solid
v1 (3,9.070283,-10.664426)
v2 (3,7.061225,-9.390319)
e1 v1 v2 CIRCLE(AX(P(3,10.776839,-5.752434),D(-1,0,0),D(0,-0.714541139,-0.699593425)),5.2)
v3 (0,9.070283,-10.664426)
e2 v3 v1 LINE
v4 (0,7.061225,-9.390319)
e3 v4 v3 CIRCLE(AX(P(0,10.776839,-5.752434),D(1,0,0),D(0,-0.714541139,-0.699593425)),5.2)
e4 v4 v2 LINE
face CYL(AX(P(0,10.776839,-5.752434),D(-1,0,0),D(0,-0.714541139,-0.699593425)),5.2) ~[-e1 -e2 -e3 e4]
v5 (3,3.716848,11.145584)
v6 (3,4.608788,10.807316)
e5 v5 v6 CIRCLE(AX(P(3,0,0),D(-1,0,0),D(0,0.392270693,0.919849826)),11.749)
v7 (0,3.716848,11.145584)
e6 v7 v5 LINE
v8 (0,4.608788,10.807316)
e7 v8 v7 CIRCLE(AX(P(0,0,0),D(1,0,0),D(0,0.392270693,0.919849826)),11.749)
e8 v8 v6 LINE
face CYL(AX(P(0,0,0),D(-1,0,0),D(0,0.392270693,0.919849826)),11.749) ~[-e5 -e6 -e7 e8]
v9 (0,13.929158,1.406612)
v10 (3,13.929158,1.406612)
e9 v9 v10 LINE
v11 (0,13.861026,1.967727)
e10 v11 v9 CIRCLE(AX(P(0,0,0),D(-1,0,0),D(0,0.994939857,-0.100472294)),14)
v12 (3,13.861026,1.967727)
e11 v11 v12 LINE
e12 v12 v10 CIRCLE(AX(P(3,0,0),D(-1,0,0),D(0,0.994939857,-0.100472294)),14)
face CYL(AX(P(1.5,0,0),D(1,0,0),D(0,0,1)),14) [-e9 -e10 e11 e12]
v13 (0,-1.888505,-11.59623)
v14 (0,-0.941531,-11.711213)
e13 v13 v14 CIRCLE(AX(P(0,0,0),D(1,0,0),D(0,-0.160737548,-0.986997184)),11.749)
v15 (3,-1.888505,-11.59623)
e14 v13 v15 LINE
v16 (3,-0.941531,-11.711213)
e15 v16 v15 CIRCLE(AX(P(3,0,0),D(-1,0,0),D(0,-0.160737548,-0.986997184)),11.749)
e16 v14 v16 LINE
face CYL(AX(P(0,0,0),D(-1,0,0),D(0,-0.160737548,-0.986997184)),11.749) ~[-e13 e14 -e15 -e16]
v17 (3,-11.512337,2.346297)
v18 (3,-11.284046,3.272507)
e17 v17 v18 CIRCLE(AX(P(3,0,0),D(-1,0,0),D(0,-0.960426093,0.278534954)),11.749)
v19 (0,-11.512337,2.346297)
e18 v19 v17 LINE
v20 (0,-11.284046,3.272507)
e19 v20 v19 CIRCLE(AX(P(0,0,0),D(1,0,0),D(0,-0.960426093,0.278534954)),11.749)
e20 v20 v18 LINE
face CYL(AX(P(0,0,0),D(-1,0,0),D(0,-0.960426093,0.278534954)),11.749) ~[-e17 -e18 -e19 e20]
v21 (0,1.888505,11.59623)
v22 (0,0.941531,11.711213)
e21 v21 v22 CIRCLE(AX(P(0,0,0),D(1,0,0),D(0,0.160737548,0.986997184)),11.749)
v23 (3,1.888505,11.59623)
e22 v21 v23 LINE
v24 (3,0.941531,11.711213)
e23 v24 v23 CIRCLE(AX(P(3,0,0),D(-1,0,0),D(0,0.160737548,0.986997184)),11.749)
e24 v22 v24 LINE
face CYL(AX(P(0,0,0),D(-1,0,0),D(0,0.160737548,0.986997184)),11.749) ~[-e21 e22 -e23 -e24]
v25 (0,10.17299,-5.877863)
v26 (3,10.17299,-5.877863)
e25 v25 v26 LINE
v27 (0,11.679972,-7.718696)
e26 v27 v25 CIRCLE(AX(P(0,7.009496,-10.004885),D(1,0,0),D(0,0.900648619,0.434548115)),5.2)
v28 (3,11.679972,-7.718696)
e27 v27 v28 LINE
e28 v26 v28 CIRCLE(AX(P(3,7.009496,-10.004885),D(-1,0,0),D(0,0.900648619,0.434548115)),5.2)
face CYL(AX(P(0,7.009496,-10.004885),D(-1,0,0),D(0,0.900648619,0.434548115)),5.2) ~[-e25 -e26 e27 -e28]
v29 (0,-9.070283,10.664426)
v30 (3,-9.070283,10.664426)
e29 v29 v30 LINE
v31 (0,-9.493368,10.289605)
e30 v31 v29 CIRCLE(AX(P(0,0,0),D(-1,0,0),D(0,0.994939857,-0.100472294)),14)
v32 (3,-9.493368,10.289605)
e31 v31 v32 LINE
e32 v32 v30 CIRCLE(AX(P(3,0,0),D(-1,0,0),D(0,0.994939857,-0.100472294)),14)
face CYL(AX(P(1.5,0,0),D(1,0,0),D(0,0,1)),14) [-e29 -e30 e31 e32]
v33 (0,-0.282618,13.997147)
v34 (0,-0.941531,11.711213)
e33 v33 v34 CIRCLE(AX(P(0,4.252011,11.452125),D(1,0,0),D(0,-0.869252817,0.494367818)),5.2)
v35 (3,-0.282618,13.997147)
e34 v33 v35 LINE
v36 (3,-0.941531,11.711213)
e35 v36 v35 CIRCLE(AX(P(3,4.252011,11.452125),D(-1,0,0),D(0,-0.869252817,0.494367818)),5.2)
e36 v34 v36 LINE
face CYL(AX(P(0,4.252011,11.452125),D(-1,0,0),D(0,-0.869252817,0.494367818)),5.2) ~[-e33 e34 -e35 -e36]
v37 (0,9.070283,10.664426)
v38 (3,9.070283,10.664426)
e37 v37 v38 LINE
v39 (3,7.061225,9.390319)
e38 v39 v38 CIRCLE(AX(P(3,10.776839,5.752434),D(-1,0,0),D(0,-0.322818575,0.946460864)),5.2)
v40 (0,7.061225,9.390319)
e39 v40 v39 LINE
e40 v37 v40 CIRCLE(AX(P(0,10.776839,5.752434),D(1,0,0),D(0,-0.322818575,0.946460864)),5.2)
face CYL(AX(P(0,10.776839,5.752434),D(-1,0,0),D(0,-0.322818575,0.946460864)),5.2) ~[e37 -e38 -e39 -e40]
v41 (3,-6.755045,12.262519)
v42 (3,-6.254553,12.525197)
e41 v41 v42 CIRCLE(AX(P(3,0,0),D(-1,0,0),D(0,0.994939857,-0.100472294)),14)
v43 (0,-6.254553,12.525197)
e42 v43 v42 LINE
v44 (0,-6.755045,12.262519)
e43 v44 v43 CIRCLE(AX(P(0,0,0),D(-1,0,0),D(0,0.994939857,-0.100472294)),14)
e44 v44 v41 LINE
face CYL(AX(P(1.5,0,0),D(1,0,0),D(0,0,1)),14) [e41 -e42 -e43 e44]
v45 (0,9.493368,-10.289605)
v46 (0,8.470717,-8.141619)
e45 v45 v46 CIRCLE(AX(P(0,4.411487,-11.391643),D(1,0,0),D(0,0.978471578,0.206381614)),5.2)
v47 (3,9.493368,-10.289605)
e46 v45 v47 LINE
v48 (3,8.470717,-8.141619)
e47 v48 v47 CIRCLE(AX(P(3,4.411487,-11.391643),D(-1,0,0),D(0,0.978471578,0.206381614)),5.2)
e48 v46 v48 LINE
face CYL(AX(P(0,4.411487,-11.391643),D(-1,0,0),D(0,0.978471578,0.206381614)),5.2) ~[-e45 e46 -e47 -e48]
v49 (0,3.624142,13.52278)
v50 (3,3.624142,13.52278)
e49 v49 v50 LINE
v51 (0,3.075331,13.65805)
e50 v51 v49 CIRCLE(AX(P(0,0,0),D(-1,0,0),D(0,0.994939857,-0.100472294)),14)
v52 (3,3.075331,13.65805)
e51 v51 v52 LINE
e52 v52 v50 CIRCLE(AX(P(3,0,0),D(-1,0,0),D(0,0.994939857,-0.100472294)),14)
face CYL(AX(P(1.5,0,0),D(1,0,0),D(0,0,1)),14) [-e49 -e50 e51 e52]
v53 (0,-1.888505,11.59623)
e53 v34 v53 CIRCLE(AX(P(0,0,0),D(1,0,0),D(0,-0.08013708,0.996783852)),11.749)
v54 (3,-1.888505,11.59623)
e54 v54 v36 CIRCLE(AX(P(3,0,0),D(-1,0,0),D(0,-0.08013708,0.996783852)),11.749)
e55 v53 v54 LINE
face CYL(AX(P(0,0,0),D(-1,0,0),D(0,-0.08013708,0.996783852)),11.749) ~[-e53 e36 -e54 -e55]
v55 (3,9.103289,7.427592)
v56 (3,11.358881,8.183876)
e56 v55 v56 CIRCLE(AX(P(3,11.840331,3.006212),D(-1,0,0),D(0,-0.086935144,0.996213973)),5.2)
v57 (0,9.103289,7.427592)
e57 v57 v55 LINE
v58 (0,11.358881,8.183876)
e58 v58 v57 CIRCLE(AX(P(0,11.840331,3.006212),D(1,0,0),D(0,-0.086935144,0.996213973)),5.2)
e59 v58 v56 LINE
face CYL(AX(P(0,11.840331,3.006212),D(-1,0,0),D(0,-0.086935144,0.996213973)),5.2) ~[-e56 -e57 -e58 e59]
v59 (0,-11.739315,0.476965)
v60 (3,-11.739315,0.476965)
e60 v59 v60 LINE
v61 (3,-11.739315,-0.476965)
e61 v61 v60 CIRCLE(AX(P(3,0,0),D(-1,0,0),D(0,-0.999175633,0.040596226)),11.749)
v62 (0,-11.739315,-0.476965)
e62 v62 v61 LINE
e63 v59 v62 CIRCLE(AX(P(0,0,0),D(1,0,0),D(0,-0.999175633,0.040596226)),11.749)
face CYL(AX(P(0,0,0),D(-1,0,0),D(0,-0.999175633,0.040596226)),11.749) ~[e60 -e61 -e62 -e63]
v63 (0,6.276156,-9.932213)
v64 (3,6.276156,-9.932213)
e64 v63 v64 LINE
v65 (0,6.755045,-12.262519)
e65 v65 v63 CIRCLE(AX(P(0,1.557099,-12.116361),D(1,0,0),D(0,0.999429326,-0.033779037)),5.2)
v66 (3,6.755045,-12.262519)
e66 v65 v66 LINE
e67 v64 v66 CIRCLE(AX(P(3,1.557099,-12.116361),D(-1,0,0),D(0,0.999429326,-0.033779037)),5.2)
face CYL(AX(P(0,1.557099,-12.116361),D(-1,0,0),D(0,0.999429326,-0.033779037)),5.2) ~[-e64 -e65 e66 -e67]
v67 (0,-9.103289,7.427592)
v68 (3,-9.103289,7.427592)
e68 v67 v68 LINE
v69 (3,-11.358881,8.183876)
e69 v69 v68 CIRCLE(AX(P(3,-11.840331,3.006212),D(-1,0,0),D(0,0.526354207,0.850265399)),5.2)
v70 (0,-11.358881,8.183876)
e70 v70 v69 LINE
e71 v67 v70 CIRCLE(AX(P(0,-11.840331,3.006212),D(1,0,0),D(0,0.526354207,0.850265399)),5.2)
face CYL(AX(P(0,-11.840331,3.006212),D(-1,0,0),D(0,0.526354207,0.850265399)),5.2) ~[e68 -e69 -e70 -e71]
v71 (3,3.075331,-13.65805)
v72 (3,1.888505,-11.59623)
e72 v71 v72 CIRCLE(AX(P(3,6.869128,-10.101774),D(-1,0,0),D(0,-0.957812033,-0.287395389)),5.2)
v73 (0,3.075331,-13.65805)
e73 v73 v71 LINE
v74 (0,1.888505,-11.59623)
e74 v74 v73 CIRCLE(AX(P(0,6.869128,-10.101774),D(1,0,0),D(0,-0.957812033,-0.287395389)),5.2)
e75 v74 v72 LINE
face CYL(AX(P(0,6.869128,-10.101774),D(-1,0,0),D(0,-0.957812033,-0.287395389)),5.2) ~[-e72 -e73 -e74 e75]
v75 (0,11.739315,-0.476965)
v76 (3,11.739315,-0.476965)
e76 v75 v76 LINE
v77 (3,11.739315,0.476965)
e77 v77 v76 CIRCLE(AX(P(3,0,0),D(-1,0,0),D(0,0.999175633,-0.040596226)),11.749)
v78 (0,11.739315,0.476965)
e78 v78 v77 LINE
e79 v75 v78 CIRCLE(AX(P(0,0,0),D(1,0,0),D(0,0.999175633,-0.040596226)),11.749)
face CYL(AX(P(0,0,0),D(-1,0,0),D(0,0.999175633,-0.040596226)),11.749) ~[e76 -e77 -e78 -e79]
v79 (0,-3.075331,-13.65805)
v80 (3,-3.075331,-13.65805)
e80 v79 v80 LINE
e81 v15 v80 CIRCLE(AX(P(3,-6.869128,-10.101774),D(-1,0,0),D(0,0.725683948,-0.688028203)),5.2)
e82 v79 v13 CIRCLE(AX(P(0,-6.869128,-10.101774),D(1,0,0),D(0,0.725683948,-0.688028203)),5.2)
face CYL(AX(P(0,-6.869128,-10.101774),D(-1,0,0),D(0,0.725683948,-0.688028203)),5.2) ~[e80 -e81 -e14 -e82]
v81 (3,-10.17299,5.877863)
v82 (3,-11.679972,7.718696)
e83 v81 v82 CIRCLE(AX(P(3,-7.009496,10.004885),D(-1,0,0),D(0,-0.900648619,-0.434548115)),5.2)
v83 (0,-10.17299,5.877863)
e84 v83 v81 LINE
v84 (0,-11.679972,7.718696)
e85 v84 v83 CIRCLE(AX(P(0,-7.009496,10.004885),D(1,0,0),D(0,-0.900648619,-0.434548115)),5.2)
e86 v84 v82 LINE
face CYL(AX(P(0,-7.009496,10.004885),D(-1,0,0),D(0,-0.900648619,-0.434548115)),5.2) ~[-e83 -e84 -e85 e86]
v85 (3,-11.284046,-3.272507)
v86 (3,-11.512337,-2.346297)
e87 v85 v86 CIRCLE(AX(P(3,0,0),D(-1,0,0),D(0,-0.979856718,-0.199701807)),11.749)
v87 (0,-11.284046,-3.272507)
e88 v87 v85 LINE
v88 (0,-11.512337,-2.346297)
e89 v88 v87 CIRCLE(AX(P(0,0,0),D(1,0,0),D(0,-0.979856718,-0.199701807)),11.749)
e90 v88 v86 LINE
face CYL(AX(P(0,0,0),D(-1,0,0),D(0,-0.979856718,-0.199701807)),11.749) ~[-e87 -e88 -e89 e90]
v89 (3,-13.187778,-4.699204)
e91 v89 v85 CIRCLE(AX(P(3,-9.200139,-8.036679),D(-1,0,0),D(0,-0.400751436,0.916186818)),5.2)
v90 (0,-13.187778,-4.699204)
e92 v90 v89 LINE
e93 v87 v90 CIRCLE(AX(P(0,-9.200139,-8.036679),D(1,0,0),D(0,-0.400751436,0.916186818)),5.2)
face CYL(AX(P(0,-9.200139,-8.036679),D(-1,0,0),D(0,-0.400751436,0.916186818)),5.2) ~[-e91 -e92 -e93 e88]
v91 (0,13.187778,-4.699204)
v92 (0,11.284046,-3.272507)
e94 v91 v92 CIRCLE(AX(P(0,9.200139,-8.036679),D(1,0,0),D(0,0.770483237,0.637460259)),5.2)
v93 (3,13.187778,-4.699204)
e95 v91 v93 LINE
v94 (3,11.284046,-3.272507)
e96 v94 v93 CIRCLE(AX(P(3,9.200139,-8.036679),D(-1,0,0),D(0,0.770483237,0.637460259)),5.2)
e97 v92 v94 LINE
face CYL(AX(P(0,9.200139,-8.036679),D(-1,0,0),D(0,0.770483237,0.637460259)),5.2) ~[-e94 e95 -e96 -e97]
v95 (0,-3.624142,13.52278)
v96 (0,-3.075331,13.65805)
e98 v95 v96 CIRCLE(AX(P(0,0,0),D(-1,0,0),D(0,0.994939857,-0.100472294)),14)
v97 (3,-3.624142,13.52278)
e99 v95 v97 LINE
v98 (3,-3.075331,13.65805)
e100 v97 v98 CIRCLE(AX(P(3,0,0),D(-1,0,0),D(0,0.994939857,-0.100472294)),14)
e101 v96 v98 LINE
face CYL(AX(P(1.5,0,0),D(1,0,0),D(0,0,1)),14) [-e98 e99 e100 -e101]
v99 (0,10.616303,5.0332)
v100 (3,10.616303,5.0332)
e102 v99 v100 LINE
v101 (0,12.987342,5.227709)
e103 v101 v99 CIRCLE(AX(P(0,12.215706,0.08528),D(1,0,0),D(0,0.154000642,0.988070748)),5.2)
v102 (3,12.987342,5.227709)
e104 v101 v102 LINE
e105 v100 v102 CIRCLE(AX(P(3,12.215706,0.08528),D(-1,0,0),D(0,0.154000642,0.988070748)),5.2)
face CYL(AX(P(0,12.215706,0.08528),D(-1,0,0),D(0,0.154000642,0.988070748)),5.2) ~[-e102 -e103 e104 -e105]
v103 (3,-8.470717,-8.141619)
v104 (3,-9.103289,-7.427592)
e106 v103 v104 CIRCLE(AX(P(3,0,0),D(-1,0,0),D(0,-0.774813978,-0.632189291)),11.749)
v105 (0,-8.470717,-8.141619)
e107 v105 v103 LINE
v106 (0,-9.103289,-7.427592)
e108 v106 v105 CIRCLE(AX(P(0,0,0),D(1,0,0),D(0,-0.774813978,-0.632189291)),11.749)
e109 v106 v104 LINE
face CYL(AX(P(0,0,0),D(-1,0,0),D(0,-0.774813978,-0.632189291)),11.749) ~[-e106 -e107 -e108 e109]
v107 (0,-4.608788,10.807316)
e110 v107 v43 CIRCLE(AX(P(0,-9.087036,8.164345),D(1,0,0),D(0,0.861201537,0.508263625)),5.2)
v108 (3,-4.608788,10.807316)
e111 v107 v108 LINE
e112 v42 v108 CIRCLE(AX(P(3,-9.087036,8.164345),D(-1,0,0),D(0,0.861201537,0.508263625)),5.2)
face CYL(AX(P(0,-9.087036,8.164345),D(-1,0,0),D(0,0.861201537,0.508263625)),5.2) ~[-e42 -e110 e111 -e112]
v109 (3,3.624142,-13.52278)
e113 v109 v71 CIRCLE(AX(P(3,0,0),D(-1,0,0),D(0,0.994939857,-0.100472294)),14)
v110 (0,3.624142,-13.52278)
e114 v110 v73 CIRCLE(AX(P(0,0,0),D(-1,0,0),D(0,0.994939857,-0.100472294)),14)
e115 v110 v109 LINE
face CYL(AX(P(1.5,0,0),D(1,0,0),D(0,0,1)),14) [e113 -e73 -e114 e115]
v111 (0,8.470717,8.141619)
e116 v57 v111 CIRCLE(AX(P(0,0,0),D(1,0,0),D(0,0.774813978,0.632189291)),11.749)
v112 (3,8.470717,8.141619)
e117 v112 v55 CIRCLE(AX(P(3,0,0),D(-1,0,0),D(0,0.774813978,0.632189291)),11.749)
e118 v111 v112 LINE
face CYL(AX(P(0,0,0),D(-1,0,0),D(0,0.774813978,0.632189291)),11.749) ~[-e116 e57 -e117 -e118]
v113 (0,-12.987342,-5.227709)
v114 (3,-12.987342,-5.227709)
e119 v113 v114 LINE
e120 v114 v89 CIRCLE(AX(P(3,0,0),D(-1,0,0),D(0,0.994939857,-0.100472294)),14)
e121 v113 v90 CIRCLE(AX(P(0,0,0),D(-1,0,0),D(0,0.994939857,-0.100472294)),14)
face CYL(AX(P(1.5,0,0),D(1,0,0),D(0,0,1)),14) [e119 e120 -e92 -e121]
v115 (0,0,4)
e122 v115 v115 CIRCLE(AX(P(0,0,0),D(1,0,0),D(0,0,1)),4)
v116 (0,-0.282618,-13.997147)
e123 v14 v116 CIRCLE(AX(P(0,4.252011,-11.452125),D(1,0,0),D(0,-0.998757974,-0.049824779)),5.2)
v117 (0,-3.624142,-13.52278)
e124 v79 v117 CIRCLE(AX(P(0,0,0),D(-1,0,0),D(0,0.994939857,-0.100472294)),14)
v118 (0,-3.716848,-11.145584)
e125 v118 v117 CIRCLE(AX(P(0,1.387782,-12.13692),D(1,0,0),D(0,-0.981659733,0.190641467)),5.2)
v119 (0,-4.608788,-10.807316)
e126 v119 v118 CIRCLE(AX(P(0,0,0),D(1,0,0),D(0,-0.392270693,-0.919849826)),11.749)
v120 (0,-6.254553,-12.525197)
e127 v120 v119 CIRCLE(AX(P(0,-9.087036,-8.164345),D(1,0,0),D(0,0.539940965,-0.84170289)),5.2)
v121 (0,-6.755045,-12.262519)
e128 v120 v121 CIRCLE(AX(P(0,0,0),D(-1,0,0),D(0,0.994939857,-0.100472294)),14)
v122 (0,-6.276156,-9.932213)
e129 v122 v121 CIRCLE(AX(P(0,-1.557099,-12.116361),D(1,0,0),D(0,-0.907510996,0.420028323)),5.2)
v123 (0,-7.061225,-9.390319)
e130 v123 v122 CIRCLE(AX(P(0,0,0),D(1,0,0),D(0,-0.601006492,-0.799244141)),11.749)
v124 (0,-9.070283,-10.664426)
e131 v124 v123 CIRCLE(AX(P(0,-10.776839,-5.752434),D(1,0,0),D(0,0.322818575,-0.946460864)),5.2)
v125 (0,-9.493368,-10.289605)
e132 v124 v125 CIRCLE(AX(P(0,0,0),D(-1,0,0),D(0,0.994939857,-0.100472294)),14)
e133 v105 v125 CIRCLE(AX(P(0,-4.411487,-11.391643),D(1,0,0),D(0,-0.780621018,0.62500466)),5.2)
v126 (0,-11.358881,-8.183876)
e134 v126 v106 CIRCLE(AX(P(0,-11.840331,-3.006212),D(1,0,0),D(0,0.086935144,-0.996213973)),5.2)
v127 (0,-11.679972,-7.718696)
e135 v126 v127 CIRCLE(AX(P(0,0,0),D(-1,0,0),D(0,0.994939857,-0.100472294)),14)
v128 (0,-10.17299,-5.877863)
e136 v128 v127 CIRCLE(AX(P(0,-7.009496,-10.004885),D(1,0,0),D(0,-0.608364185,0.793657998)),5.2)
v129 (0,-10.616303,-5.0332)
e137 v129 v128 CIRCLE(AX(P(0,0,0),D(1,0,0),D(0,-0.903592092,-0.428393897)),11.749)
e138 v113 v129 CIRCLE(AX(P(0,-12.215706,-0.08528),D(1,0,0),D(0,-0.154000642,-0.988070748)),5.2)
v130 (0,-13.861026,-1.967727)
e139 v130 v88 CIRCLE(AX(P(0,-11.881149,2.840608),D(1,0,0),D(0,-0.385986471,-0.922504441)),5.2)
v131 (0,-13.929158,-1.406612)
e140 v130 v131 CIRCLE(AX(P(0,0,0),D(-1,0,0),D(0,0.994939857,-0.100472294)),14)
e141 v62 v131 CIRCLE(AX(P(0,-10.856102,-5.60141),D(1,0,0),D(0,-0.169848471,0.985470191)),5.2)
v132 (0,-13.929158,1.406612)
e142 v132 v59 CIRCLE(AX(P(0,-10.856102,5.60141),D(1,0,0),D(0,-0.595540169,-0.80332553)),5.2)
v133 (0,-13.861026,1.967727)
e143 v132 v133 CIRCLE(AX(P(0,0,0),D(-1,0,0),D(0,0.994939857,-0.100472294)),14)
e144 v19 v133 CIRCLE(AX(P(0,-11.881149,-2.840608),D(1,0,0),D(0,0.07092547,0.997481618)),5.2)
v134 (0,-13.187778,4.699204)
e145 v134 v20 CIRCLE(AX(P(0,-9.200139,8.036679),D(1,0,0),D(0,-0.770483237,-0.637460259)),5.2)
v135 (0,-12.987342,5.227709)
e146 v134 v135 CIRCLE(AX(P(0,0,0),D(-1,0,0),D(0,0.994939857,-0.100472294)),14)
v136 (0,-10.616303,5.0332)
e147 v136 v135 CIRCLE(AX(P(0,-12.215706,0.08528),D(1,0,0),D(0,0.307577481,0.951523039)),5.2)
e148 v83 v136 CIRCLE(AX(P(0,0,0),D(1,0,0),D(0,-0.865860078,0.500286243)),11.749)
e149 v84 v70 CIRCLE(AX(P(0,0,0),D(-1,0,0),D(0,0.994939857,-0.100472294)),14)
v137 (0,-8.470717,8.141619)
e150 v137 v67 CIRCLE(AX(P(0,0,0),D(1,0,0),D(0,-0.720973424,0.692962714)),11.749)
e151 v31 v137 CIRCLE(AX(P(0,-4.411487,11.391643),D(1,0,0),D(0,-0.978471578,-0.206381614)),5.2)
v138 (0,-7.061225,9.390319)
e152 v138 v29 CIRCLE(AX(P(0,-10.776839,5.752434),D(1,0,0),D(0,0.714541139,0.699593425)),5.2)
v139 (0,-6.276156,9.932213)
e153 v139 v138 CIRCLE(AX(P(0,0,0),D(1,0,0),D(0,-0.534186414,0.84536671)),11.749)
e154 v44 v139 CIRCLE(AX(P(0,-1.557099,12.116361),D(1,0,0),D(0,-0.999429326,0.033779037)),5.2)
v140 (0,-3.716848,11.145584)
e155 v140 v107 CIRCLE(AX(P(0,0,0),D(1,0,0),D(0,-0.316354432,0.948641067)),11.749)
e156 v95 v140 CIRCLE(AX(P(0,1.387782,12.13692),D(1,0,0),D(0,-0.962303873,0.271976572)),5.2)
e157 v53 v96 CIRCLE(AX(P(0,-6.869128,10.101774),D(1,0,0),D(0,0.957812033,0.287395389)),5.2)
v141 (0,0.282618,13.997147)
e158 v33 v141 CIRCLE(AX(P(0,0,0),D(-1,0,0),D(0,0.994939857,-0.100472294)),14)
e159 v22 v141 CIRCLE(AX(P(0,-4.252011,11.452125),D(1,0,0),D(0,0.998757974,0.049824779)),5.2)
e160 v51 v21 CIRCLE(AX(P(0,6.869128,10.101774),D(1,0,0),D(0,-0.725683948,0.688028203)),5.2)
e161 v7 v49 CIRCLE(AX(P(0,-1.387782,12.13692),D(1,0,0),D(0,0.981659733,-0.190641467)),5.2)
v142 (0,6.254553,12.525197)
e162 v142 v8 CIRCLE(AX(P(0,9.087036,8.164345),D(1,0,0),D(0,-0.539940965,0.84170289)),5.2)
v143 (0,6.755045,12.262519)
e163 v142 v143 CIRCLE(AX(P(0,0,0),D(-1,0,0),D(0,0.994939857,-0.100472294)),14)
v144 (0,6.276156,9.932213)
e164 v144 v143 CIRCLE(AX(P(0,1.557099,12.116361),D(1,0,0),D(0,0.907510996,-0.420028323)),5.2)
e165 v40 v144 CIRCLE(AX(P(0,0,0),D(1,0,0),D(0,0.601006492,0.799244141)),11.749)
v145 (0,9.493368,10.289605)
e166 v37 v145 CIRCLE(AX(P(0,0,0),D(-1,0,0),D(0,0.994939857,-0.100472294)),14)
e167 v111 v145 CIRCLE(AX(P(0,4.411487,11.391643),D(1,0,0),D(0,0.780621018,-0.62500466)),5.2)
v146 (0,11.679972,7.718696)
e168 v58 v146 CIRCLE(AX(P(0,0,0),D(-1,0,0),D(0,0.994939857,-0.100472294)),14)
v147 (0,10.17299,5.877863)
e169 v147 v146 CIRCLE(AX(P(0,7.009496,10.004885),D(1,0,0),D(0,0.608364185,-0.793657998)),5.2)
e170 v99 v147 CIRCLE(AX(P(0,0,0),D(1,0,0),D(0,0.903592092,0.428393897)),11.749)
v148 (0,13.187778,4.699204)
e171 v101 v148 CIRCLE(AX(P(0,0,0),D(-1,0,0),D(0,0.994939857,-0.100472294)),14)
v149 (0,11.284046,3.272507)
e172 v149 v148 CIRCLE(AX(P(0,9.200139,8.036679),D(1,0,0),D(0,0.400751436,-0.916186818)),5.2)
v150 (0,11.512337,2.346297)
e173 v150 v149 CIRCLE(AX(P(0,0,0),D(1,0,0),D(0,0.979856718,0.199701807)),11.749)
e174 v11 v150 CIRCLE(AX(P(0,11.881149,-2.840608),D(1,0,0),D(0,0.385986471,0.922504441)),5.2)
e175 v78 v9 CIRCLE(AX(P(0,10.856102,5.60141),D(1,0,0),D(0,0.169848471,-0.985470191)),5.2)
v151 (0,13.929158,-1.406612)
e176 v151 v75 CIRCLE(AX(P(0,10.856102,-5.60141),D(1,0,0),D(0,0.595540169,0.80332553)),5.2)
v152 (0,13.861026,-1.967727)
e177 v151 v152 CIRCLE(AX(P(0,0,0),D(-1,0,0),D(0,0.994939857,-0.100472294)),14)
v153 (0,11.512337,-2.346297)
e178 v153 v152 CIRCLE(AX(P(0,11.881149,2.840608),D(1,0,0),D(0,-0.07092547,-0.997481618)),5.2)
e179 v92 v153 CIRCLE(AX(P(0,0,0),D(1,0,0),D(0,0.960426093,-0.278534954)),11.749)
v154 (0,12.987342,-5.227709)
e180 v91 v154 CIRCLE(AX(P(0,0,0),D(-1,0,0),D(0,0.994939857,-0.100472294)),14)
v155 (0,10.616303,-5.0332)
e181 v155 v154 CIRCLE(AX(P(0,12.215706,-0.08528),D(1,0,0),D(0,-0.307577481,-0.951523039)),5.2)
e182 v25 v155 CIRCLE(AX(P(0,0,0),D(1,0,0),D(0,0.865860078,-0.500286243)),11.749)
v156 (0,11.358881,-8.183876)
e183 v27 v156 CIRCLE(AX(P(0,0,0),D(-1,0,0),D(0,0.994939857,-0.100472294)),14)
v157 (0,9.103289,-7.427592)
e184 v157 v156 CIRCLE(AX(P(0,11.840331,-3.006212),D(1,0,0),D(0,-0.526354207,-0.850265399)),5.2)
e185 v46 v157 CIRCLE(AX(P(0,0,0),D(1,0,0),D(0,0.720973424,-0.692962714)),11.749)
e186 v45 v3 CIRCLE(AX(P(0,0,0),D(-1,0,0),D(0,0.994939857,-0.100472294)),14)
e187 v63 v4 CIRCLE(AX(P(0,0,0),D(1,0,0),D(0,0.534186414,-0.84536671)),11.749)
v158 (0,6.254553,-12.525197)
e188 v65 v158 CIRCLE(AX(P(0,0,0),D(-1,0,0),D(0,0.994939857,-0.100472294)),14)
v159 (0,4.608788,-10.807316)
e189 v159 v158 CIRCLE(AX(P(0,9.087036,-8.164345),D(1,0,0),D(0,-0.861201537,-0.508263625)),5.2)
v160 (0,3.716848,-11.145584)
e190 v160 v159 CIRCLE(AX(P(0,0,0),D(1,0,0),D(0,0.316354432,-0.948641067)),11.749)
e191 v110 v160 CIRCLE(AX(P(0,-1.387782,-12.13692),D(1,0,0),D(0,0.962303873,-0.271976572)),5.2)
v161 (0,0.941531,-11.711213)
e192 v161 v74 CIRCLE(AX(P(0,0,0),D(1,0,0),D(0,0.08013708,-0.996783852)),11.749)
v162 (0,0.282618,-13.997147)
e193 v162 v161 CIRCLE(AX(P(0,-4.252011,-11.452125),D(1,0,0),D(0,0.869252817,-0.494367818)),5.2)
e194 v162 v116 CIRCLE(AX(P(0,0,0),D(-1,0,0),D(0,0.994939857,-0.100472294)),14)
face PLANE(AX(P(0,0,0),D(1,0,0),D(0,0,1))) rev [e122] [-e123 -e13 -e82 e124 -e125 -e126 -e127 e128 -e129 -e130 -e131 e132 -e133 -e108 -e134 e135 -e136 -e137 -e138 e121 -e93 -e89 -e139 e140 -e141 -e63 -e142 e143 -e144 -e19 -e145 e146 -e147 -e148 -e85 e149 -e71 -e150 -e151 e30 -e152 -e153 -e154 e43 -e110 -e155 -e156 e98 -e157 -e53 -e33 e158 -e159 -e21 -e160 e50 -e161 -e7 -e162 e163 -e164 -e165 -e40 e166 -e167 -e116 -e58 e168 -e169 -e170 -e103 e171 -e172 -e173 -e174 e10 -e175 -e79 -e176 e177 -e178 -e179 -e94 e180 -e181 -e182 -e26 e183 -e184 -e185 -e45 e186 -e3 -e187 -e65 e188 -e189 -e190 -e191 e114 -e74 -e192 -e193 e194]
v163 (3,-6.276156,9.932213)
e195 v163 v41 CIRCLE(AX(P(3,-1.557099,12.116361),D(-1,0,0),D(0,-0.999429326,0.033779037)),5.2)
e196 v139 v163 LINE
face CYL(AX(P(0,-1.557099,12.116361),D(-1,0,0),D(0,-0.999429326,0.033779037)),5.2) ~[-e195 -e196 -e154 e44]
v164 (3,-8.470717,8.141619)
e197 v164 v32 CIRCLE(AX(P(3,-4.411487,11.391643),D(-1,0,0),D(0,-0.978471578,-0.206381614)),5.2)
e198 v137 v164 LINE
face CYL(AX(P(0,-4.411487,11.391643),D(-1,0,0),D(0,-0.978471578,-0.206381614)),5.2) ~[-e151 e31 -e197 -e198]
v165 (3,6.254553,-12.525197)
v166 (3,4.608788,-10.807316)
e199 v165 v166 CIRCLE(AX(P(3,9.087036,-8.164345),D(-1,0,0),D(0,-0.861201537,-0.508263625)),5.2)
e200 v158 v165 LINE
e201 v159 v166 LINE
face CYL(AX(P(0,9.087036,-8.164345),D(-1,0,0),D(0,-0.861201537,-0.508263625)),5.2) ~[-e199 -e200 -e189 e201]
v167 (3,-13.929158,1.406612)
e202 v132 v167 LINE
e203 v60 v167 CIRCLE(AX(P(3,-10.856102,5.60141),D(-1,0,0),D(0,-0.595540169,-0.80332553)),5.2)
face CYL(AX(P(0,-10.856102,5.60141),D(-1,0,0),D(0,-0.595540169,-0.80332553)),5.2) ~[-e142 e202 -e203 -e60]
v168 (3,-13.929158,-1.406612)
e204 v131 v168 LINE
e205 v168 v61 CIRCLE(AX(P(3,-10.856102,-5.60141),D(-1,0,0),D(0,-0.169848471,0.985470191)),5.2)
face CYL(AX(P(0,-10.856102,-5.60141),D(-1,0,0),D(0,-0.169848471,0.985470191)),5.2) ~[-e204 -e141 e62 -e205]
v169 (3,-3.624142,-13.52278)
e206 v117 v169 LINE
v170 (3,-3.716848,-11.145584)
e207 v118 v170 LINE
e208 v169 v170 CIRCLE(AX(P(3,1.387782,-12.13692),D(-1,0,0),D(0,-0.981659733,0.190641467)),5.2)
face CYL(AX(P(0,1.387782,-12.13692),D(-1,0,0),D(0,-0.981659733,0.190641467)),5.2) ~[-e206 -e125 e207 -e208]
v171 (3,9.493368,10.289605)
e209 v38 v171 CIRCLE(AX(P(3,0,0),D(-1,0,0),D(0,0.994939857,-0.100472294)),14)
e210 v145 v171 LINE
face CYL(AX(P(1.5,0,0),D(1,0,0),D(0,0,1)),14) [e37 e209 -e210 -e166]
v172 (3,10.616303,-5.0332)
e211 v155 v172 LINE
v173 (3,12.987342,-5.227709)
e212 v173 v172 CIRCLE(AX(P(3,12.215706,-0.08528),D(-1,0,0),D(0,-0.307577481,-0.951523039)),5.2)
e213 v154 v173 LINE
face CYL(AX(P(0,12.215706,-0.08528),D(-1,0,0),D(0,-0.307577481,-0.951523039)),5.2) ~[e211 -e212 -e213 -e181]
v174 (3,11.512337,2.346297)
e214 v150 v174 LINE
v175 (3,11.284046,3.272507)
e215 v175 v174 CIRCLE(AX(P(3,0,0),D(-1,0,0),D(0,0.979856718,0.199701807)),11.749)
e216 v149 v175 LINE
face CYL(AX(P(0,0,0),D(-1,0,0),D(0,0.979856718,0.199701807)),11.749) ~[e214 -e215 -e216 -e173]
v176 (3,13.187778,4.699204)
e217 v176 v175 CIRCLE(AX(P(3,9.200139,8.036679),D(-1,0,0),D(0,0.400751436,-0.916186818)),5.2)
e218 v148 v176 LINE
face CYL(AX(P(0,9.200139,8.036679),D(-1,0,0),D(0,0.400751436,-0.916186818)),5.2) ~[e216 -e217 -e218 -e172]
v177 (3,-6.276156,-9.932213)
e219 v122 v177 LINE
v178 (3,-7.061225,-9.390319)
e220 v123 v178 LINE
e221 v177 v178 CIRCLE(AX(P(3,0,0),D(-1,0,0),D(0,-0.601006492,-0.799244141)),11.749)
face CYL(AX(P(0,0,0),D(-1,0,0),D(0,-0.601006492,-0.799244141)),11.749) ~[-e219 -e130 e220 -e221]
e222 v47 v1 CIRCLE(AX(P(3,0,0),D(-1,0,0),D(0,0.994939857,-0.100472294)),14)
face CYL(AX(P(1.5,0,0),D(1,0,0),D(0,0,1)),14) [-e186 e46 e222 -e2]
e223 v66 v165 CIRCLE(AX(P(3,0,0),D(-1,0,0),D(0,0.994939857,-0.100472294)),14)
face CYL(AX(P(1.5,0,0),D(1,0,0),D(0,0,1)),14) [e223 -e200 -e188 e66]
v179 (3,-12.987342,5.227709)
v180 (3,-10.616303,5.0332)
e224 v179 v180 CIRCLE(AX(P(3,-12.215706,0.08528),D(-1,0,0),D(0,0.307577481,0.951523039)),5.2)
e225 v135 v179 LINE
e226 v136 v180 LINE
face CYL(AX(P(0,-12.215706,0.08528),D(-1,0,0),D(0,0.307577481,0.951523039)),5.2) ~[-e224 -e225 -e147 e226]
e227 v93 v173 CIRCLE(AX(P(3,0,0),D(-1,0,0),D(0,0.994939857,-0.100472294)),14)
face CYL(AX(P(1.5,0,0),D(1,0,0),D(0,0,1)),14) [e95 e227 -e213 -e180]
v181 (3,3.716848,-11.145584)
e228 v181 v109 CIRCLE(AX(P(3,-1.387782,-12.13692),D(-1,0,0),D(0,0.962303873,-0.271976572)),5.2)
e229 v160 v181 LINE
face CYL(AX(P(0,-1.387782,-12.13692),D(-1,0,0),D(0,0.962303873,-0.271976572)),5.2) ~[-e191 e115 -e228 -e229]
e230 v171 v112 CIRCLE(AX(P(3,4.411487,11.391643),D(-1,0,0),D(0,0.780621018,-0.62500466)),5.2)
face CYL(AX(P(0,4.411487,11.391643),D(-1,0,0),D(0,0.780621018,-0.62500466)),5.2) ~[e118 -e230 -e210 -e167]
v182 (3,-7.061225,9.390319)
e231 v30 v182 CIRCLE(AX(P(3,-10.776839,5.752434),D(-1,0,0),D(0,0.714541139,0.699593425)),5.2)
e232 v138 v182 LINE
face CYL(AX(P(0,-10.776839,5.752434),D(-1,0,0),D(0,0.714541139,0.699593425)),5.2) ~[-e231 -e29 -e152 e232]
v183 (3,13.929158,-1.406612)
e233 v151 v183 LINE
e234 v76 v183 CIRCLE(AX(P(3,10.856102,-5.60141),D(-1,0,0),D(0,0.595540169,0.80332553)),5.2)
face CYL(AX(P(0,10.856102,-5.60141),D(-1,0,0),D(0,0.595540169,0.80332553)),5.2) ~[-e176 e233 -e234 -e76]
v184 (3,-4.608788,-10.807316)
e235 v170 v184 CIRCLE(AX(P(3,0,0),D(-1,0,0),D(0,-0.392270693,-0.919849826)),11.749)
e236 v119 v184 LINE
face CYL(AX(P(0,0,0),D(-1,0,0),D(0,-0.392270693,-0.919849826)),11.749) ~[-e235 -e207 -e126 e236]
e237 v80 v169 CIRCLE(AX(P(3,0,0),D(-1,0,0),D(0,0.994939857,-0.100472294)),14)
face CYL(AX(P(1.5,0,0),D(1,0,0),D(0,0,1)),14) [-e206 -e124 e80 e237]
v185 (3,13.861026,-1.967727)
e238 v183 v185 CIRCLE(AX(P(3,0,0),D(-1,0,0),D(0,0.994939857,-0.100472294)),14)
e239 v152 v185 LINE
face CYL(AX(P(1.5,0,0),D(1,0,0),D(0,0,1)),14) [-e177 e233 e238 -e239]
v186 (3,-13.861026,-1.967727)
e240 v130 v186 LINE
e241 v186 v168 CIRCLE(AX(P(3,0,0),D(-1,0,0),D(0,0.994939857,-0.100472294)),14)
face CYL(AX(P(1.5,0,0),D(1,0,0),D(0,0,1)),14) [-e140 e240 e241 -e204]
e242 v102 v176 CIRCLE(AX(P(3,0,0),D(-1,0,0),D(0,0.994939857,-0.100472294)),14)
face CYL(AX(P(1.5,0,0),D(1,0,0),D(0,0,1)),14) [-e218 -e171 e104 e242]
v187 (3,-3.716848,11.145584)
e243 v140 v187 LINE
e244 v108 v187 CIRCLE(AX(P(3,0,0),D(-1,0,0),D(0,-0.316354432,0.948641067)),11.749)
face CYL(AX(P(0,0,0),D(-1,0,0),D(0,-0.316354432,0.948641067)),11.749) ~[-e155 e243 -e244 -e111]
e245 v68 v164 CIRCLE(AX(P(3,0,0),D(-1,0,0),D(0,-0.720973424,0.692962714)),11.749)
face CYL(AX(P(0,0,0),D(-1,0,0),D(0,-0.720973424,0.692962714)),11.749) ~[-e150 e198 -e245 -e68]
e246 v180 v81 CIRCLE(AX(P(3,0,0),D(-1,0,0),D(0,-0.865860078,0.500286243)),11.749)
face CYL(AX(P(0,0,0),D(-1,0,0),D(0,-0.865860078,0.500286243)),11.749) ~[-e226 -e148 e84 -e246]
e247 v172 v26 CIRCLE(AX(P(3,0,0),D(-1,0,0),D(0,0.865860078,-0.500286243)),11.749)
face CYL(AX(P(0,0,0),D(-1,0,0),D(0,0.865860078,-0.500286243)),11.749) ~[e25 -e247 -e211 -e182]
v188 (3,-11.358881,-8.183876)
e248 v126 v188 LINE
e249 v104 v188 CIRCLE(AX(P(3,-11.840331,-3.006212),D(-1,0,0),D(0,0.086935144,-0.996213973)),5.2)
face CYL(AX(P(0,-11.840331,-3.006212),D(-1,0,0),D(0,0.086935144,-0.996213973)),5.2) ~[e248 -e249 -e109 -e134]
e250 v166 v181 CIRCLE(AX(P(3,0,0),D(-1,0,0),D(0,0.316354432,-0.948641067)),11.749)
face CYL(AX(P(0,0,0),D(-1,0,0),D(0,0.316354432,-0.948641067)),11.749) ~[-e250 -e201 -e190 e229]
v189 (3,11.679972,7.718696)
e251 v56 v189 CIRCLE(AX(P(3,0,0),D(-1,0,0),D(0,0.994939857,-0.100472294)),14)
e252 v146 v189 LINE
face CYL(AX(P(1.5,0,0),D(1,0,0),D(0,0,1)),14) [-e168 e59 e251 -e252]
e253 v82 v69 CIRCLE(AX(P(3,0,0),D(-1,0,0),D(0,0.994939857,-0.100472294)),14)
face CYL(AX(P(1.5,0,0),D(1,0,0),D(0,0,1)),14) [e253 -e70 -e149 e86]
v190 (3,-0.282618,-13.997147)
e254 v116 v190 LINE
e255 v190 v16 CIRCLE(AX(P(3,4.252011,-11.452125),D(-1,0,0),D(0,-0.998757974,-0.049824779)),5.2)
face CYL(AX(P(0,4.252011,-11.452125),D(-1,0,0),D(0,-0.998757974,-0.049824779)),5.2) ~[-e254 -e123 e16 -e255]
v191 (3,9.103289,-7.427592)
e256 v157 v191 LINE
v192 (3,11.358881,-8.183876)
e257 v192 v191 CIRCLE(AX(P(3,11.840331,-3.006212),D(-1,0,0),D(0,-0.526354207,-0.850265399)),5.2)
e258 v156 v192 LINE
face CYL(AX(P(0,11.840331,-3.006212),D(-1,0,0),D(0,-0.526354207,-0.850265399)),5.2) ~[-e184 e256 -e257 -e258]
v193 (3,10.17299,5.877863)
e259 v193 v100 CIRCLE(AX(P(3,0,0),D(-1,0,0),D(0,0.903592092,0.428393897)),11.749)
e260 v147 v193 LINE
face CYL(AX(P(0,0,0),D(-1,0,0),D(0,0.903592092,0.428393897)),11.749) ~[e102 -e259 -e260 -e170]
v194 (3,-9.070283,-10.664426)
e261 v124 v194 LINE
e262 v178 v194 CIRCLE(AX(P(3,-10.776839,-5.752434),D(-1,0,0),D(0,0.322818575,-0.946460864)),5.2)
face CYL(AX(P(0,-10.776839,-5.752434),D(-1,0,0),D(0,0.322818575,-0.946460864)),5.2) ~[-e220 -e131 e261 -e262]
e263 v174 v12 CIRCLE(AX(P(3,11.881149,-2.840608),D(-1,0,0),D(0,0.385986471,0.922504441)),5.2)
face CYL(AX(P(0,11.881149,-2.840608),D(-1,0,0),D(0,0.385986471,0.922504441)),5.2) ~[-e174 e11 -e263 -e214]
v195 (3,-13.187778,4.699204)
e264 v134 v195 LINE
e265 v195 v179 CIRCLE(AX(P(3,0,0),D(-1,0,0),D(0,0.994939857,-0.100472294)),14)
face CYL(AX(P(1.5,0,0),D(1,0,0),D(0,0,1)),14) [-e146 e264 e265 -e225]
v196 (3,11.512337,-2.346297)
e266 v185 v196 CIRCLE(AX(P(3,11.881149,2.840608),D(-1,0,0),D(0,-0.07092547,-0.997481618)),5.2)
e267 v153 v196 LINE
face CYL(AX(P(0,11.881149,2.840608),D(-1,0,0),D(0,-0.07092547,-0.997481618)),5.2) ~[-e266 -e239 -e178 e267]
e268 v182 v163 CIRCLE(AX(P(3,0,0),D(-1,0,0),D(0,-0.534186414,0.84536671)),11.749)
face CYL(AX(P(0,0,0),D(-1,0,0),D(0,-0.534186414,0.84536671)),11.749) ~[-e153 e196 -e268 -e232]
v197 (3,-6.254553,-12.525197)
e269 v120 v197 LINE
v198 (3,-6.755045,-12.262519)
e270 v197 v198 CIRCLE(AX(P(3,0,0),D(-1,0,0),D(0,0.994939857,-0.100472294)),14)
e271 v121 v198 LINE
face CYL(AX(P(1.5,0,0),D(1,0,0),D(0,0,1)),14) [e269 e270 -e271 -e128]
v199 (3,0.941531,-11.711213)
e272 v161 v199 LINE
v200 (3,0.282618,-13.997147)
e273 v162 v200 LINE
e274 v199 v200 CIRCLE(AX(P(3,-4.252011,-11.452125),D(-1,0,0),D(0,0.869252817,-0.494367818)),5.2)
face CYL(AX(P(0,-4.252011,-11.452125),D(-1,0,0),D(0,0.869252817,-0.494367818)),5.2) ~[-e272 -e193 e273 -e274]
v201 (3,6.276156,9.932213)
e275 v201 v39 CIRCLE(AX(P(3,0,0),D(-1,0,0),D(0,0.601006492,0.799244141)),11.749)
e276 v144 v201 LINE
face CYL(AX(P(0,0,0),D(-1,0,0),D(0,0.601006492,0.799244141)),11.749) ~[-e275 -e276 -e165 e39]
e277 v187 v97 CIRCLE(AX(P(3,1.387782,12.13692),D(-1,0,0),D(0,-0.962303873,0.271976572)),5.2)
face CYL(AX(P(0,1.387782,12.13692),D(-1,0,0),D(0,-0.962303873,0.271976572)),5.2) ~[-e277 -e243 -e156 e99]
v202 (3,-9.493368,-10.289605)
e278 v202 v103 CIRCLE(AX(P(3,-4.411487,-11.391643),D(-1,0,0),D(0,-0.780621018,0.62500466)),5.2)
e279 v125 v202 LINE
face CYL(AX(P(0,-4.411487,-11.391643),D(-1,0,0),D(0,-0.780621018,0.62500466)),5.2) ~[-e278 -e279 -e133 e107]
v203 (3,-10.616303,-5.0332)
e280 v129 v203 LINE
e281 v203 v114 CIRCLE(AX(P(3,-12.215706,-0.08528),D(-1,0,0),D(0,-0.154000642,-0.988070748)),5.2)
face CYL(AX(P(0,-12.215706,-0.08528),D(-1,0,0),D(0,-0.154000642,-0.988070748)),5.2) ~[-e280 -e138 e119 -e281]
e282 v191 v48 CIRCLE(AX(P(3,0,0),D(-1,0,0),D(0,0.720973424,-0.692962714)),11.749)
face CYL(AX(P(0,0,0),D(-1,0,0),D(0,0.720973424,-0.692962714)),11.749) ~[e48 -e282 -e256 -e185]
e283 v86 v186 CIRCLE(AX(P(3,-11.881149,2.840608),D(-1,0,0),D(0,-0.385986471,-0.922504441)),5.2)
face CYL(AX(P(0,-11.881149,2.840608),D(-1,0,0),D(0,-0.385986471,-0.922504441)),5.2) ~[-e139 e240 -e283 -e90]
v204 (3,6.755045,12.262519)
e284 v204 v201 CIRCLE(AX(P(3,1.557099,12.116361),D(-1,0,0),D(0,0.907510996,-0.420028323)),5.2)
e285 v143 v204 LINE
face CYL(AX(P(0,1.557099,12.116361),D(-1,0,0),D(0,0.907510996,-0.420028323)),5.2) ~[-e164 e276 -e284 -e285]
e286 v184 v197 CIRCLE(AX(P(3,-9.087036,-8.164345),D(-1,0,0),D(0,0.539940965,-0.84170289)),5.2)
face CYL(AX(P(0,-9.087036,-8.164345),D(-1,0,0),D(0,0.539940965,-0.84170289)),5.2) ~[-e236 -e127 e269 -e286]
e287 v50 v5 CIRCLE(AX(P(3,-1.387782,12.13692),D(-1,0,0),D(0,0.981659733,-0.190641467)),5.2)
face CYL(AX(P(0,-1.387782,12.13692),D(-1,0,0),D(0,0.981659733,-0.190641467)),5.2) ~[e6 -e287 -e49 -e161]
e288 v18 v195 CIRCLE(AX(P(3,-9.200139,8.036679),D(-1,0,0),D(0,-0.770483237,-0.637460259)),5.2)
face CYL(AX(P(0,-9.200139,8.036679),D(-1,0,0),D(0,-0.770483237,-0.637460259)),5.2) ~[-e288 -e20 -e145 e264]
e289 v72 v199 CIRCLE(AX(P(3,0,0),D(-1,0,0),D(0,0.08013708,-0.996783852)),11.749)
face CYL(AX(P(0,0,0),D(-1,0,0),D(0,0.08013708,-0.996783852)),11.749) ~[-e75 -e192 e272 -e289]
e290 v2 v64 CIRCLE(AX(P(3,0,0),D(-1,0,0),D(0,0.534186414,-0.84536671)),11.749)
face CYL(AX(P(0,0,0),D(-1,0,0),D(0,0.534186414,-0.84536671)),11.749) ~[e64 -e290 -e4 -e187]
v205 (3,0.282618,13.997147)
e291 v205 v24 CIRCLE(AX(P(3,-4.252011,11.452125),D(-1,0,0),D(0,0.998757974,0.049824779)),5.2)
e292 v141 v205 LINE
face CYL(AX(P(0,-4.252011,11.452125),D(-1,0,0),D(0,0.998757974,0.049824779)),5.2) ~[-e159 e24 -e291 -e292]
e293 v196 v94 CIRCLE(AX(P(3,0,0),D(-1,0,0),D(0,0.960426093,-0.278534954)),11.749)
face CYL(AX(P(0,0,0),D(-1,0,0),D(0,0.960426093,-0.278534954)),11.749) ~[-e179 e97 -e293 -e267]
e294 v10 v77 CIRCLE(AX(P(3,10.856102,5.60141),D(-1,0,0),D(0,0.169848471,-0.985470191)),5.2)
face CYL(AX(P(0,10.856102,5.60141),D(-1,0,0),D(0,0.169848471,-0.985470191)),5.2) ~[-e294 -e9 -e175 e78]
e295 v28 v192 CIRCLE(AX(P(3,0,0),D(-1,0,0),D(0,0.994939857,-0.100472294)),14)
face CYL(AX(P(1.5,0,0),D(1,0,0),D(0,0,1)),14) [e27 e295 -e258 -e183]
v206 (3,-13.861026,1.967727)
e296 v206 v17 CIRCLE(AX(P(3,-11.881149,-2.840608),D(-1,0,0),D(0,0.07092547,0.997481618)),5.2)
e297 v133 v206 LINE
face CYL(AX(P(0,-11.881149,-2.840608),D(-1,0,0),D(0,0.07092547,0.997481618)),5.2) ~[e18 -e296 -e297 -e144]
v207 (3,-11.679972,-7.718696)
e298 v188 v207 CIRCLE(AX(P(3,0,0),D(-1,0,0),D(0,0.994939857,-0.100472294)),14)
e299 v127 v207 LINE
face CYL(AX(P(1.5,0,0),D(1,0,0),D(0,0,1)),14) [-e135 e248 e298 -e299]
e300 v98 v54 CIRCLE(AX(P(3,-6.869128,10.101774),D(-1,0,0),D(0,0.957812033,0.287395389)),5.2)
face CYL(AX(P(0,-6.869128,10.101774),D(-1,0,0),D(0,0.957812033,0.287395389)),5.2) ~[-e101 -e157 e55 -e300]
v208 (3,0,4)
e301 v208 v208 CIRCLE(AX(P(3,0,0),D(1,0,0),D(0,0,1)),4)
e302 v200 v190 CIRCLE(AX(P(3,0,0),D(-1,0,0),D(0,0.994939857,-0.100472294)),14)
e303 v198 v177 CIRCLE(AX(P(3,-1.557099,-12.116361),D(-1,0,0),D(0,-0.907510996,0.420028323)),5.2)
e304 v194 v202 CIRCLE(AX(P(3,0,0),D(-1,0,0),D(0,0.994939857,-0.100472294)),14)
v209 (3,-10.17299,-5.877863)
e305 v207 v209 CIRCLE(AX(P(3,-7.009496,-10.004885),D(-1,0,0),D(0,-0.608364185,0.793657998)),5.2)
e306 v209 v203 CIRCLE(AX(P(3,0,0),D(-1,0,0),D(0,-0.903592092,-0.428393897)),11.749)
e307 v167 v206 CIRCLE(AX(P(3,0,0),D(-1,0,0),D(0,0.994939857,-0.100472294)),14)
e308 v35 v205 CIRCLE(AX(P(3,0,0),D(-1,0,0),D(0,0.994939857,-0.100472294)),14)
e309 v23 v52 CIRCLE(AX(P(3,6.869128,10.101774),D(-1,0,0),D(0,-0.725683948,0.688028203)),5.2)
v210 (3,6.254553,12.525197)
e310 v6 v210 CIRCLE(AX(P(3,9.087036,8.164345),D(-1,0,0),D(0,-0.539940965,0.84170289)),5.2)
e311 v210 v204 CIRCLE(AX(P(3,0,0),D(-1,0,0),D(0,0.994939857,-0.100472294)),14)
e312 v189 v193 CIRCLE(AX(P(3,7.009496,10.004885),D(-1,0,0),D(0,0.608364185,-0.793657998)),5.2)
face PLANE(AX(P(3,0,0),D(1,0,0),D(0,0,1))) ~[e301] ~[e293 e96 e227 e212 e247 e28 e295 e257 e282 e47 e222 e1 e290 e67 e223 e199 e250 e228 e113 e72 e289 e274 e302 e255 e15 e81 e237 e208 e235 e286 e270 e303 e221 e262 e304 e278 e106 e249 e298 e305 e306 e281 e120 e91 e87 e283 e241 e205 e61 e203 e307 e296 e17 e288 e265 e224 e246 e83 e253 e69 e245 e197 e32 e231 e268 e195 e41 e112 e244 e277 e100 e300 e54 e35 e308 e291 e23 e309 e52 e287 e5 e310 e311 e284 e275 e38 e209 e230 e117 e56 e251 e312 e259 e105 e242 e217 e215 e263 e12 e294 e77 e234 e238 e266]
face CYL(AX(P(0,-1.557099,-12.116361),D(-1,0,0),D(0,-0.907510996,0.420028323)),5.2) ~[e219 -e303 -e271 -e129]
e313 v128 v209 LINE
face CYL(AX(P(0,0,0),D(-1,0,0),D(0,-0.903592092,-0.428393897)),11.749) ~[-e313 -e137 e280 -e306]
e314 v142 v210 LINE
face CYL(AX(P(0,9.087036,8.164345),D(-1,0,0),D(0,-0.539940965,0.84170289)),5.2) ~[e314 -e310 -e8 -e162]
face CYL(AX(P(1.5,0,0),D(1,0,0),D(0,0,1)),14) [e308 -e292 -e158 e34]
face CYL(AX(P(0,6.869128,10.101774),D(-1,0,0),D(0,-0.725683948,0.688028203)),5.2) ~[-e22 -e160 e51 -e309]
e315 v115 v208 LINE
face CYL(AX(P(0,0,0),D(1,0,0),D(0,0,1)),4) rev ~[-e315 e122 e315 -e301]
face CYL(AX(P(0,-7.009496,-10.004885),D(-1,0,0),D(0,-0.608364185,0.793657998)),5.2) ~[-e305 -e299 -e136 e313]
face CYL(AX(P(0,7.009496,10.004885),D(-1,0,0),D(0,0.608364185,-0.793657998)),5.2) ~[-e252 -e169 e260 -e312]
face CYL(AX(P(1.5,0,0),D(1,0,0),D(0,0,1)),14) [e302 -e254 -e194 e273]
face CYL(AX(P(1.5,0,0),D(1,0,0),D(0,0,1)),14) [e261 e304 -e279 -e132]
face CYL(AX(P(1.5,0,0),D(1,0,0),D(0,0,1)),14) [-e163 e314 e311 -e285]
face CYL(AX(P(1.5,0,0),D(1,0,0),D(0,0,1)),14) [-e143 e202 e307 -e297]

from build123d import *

# Parameters (mm, degrees)
BASPROSKE_W     = 3
BASPROSKE_H     = 14
TOOTHCUT_DEPTH  = 21.024984395
TEETHCUTS_COUNT = 26
TEETHCUTS_ANGLE = 346.153846154
BORSKE_R        = 4
BORE_DEPTH      = 50.0000508


with BuildPart() as part:
    # BasProSke → Base-Revolve (revolve)
    with BuildSketch(Plane(origin=(0, 0, 0), x_dir=(1, 0, 0), z_dir=(0, 1, 0)), mode=Mode.PRIVATE) as base_revolve_sk:
        with Locations((1.5, 7)):
            Rectangle(BASPROSKE_W, BASPROSKE_H)
    revolve(base_revolve_sk.sketch.rotate(Axis((-10, 0, 0), (1, 0, 0)), 180), axis=Axis((-10, 0, 0), (1, 0, 0)))

    # TooCutSke → ToothCut (cut, through all)
    with BuildSketch(Plane(origin=(0, 0, 0), x_dir=(0, 0, -1), z_dir=(1, 0, 0))):
        with BuildLine():
            ThreePointArc((0.476965065, 11.739314517), (0, 11.749), (-0.476965065, 11.739314517))
            ThreePointArc((-0.476965065, 11.739314517), (-0.82065865, 12.901686978), (-1.424117301, 13.952911348))
            ThreePointArc((-1.424117301, 13.952911348), (0, 14.0254), (1.424117301, 13.952911348))
            ThreePointArc((1.424117301, 13.952911348), (0.82065865, 12.901686978), (0.476965065, 11.739314517))
        make_face()
    toothcut = extrude(amount=TOOTHCUT_DEPTH, mode=Mode.SUBTRACT)

    # TeethCuts: ToothCut ×26 about axis
    teethcuts_axis = Axis((-10, 0, 0), (1, 0, 0))
    for i in range(1, TEETHCUTS_COUNT):
        add(toothcut.rotate(teethcuts_axis, i * TEETHCUTS_ANGLE / (TEETHCUTS_COUNT - 1)), mode=Mode.SUBTRACT)

    # BorSke → Bore (cut, symmetric)
    with BuildSketch(Plane(origin=(0, 0, 0), x_dir=(0, 0, -1), z_dir=(1, 0, 0))):
        with Locations(Location((0, 0, 0), (0, 0, 180))):
            Circle(BORSKE_R)
    extrude(amount=BORE_DEPTH, both=True, mode=Mode.SUBTRACT)


solid = part.part
